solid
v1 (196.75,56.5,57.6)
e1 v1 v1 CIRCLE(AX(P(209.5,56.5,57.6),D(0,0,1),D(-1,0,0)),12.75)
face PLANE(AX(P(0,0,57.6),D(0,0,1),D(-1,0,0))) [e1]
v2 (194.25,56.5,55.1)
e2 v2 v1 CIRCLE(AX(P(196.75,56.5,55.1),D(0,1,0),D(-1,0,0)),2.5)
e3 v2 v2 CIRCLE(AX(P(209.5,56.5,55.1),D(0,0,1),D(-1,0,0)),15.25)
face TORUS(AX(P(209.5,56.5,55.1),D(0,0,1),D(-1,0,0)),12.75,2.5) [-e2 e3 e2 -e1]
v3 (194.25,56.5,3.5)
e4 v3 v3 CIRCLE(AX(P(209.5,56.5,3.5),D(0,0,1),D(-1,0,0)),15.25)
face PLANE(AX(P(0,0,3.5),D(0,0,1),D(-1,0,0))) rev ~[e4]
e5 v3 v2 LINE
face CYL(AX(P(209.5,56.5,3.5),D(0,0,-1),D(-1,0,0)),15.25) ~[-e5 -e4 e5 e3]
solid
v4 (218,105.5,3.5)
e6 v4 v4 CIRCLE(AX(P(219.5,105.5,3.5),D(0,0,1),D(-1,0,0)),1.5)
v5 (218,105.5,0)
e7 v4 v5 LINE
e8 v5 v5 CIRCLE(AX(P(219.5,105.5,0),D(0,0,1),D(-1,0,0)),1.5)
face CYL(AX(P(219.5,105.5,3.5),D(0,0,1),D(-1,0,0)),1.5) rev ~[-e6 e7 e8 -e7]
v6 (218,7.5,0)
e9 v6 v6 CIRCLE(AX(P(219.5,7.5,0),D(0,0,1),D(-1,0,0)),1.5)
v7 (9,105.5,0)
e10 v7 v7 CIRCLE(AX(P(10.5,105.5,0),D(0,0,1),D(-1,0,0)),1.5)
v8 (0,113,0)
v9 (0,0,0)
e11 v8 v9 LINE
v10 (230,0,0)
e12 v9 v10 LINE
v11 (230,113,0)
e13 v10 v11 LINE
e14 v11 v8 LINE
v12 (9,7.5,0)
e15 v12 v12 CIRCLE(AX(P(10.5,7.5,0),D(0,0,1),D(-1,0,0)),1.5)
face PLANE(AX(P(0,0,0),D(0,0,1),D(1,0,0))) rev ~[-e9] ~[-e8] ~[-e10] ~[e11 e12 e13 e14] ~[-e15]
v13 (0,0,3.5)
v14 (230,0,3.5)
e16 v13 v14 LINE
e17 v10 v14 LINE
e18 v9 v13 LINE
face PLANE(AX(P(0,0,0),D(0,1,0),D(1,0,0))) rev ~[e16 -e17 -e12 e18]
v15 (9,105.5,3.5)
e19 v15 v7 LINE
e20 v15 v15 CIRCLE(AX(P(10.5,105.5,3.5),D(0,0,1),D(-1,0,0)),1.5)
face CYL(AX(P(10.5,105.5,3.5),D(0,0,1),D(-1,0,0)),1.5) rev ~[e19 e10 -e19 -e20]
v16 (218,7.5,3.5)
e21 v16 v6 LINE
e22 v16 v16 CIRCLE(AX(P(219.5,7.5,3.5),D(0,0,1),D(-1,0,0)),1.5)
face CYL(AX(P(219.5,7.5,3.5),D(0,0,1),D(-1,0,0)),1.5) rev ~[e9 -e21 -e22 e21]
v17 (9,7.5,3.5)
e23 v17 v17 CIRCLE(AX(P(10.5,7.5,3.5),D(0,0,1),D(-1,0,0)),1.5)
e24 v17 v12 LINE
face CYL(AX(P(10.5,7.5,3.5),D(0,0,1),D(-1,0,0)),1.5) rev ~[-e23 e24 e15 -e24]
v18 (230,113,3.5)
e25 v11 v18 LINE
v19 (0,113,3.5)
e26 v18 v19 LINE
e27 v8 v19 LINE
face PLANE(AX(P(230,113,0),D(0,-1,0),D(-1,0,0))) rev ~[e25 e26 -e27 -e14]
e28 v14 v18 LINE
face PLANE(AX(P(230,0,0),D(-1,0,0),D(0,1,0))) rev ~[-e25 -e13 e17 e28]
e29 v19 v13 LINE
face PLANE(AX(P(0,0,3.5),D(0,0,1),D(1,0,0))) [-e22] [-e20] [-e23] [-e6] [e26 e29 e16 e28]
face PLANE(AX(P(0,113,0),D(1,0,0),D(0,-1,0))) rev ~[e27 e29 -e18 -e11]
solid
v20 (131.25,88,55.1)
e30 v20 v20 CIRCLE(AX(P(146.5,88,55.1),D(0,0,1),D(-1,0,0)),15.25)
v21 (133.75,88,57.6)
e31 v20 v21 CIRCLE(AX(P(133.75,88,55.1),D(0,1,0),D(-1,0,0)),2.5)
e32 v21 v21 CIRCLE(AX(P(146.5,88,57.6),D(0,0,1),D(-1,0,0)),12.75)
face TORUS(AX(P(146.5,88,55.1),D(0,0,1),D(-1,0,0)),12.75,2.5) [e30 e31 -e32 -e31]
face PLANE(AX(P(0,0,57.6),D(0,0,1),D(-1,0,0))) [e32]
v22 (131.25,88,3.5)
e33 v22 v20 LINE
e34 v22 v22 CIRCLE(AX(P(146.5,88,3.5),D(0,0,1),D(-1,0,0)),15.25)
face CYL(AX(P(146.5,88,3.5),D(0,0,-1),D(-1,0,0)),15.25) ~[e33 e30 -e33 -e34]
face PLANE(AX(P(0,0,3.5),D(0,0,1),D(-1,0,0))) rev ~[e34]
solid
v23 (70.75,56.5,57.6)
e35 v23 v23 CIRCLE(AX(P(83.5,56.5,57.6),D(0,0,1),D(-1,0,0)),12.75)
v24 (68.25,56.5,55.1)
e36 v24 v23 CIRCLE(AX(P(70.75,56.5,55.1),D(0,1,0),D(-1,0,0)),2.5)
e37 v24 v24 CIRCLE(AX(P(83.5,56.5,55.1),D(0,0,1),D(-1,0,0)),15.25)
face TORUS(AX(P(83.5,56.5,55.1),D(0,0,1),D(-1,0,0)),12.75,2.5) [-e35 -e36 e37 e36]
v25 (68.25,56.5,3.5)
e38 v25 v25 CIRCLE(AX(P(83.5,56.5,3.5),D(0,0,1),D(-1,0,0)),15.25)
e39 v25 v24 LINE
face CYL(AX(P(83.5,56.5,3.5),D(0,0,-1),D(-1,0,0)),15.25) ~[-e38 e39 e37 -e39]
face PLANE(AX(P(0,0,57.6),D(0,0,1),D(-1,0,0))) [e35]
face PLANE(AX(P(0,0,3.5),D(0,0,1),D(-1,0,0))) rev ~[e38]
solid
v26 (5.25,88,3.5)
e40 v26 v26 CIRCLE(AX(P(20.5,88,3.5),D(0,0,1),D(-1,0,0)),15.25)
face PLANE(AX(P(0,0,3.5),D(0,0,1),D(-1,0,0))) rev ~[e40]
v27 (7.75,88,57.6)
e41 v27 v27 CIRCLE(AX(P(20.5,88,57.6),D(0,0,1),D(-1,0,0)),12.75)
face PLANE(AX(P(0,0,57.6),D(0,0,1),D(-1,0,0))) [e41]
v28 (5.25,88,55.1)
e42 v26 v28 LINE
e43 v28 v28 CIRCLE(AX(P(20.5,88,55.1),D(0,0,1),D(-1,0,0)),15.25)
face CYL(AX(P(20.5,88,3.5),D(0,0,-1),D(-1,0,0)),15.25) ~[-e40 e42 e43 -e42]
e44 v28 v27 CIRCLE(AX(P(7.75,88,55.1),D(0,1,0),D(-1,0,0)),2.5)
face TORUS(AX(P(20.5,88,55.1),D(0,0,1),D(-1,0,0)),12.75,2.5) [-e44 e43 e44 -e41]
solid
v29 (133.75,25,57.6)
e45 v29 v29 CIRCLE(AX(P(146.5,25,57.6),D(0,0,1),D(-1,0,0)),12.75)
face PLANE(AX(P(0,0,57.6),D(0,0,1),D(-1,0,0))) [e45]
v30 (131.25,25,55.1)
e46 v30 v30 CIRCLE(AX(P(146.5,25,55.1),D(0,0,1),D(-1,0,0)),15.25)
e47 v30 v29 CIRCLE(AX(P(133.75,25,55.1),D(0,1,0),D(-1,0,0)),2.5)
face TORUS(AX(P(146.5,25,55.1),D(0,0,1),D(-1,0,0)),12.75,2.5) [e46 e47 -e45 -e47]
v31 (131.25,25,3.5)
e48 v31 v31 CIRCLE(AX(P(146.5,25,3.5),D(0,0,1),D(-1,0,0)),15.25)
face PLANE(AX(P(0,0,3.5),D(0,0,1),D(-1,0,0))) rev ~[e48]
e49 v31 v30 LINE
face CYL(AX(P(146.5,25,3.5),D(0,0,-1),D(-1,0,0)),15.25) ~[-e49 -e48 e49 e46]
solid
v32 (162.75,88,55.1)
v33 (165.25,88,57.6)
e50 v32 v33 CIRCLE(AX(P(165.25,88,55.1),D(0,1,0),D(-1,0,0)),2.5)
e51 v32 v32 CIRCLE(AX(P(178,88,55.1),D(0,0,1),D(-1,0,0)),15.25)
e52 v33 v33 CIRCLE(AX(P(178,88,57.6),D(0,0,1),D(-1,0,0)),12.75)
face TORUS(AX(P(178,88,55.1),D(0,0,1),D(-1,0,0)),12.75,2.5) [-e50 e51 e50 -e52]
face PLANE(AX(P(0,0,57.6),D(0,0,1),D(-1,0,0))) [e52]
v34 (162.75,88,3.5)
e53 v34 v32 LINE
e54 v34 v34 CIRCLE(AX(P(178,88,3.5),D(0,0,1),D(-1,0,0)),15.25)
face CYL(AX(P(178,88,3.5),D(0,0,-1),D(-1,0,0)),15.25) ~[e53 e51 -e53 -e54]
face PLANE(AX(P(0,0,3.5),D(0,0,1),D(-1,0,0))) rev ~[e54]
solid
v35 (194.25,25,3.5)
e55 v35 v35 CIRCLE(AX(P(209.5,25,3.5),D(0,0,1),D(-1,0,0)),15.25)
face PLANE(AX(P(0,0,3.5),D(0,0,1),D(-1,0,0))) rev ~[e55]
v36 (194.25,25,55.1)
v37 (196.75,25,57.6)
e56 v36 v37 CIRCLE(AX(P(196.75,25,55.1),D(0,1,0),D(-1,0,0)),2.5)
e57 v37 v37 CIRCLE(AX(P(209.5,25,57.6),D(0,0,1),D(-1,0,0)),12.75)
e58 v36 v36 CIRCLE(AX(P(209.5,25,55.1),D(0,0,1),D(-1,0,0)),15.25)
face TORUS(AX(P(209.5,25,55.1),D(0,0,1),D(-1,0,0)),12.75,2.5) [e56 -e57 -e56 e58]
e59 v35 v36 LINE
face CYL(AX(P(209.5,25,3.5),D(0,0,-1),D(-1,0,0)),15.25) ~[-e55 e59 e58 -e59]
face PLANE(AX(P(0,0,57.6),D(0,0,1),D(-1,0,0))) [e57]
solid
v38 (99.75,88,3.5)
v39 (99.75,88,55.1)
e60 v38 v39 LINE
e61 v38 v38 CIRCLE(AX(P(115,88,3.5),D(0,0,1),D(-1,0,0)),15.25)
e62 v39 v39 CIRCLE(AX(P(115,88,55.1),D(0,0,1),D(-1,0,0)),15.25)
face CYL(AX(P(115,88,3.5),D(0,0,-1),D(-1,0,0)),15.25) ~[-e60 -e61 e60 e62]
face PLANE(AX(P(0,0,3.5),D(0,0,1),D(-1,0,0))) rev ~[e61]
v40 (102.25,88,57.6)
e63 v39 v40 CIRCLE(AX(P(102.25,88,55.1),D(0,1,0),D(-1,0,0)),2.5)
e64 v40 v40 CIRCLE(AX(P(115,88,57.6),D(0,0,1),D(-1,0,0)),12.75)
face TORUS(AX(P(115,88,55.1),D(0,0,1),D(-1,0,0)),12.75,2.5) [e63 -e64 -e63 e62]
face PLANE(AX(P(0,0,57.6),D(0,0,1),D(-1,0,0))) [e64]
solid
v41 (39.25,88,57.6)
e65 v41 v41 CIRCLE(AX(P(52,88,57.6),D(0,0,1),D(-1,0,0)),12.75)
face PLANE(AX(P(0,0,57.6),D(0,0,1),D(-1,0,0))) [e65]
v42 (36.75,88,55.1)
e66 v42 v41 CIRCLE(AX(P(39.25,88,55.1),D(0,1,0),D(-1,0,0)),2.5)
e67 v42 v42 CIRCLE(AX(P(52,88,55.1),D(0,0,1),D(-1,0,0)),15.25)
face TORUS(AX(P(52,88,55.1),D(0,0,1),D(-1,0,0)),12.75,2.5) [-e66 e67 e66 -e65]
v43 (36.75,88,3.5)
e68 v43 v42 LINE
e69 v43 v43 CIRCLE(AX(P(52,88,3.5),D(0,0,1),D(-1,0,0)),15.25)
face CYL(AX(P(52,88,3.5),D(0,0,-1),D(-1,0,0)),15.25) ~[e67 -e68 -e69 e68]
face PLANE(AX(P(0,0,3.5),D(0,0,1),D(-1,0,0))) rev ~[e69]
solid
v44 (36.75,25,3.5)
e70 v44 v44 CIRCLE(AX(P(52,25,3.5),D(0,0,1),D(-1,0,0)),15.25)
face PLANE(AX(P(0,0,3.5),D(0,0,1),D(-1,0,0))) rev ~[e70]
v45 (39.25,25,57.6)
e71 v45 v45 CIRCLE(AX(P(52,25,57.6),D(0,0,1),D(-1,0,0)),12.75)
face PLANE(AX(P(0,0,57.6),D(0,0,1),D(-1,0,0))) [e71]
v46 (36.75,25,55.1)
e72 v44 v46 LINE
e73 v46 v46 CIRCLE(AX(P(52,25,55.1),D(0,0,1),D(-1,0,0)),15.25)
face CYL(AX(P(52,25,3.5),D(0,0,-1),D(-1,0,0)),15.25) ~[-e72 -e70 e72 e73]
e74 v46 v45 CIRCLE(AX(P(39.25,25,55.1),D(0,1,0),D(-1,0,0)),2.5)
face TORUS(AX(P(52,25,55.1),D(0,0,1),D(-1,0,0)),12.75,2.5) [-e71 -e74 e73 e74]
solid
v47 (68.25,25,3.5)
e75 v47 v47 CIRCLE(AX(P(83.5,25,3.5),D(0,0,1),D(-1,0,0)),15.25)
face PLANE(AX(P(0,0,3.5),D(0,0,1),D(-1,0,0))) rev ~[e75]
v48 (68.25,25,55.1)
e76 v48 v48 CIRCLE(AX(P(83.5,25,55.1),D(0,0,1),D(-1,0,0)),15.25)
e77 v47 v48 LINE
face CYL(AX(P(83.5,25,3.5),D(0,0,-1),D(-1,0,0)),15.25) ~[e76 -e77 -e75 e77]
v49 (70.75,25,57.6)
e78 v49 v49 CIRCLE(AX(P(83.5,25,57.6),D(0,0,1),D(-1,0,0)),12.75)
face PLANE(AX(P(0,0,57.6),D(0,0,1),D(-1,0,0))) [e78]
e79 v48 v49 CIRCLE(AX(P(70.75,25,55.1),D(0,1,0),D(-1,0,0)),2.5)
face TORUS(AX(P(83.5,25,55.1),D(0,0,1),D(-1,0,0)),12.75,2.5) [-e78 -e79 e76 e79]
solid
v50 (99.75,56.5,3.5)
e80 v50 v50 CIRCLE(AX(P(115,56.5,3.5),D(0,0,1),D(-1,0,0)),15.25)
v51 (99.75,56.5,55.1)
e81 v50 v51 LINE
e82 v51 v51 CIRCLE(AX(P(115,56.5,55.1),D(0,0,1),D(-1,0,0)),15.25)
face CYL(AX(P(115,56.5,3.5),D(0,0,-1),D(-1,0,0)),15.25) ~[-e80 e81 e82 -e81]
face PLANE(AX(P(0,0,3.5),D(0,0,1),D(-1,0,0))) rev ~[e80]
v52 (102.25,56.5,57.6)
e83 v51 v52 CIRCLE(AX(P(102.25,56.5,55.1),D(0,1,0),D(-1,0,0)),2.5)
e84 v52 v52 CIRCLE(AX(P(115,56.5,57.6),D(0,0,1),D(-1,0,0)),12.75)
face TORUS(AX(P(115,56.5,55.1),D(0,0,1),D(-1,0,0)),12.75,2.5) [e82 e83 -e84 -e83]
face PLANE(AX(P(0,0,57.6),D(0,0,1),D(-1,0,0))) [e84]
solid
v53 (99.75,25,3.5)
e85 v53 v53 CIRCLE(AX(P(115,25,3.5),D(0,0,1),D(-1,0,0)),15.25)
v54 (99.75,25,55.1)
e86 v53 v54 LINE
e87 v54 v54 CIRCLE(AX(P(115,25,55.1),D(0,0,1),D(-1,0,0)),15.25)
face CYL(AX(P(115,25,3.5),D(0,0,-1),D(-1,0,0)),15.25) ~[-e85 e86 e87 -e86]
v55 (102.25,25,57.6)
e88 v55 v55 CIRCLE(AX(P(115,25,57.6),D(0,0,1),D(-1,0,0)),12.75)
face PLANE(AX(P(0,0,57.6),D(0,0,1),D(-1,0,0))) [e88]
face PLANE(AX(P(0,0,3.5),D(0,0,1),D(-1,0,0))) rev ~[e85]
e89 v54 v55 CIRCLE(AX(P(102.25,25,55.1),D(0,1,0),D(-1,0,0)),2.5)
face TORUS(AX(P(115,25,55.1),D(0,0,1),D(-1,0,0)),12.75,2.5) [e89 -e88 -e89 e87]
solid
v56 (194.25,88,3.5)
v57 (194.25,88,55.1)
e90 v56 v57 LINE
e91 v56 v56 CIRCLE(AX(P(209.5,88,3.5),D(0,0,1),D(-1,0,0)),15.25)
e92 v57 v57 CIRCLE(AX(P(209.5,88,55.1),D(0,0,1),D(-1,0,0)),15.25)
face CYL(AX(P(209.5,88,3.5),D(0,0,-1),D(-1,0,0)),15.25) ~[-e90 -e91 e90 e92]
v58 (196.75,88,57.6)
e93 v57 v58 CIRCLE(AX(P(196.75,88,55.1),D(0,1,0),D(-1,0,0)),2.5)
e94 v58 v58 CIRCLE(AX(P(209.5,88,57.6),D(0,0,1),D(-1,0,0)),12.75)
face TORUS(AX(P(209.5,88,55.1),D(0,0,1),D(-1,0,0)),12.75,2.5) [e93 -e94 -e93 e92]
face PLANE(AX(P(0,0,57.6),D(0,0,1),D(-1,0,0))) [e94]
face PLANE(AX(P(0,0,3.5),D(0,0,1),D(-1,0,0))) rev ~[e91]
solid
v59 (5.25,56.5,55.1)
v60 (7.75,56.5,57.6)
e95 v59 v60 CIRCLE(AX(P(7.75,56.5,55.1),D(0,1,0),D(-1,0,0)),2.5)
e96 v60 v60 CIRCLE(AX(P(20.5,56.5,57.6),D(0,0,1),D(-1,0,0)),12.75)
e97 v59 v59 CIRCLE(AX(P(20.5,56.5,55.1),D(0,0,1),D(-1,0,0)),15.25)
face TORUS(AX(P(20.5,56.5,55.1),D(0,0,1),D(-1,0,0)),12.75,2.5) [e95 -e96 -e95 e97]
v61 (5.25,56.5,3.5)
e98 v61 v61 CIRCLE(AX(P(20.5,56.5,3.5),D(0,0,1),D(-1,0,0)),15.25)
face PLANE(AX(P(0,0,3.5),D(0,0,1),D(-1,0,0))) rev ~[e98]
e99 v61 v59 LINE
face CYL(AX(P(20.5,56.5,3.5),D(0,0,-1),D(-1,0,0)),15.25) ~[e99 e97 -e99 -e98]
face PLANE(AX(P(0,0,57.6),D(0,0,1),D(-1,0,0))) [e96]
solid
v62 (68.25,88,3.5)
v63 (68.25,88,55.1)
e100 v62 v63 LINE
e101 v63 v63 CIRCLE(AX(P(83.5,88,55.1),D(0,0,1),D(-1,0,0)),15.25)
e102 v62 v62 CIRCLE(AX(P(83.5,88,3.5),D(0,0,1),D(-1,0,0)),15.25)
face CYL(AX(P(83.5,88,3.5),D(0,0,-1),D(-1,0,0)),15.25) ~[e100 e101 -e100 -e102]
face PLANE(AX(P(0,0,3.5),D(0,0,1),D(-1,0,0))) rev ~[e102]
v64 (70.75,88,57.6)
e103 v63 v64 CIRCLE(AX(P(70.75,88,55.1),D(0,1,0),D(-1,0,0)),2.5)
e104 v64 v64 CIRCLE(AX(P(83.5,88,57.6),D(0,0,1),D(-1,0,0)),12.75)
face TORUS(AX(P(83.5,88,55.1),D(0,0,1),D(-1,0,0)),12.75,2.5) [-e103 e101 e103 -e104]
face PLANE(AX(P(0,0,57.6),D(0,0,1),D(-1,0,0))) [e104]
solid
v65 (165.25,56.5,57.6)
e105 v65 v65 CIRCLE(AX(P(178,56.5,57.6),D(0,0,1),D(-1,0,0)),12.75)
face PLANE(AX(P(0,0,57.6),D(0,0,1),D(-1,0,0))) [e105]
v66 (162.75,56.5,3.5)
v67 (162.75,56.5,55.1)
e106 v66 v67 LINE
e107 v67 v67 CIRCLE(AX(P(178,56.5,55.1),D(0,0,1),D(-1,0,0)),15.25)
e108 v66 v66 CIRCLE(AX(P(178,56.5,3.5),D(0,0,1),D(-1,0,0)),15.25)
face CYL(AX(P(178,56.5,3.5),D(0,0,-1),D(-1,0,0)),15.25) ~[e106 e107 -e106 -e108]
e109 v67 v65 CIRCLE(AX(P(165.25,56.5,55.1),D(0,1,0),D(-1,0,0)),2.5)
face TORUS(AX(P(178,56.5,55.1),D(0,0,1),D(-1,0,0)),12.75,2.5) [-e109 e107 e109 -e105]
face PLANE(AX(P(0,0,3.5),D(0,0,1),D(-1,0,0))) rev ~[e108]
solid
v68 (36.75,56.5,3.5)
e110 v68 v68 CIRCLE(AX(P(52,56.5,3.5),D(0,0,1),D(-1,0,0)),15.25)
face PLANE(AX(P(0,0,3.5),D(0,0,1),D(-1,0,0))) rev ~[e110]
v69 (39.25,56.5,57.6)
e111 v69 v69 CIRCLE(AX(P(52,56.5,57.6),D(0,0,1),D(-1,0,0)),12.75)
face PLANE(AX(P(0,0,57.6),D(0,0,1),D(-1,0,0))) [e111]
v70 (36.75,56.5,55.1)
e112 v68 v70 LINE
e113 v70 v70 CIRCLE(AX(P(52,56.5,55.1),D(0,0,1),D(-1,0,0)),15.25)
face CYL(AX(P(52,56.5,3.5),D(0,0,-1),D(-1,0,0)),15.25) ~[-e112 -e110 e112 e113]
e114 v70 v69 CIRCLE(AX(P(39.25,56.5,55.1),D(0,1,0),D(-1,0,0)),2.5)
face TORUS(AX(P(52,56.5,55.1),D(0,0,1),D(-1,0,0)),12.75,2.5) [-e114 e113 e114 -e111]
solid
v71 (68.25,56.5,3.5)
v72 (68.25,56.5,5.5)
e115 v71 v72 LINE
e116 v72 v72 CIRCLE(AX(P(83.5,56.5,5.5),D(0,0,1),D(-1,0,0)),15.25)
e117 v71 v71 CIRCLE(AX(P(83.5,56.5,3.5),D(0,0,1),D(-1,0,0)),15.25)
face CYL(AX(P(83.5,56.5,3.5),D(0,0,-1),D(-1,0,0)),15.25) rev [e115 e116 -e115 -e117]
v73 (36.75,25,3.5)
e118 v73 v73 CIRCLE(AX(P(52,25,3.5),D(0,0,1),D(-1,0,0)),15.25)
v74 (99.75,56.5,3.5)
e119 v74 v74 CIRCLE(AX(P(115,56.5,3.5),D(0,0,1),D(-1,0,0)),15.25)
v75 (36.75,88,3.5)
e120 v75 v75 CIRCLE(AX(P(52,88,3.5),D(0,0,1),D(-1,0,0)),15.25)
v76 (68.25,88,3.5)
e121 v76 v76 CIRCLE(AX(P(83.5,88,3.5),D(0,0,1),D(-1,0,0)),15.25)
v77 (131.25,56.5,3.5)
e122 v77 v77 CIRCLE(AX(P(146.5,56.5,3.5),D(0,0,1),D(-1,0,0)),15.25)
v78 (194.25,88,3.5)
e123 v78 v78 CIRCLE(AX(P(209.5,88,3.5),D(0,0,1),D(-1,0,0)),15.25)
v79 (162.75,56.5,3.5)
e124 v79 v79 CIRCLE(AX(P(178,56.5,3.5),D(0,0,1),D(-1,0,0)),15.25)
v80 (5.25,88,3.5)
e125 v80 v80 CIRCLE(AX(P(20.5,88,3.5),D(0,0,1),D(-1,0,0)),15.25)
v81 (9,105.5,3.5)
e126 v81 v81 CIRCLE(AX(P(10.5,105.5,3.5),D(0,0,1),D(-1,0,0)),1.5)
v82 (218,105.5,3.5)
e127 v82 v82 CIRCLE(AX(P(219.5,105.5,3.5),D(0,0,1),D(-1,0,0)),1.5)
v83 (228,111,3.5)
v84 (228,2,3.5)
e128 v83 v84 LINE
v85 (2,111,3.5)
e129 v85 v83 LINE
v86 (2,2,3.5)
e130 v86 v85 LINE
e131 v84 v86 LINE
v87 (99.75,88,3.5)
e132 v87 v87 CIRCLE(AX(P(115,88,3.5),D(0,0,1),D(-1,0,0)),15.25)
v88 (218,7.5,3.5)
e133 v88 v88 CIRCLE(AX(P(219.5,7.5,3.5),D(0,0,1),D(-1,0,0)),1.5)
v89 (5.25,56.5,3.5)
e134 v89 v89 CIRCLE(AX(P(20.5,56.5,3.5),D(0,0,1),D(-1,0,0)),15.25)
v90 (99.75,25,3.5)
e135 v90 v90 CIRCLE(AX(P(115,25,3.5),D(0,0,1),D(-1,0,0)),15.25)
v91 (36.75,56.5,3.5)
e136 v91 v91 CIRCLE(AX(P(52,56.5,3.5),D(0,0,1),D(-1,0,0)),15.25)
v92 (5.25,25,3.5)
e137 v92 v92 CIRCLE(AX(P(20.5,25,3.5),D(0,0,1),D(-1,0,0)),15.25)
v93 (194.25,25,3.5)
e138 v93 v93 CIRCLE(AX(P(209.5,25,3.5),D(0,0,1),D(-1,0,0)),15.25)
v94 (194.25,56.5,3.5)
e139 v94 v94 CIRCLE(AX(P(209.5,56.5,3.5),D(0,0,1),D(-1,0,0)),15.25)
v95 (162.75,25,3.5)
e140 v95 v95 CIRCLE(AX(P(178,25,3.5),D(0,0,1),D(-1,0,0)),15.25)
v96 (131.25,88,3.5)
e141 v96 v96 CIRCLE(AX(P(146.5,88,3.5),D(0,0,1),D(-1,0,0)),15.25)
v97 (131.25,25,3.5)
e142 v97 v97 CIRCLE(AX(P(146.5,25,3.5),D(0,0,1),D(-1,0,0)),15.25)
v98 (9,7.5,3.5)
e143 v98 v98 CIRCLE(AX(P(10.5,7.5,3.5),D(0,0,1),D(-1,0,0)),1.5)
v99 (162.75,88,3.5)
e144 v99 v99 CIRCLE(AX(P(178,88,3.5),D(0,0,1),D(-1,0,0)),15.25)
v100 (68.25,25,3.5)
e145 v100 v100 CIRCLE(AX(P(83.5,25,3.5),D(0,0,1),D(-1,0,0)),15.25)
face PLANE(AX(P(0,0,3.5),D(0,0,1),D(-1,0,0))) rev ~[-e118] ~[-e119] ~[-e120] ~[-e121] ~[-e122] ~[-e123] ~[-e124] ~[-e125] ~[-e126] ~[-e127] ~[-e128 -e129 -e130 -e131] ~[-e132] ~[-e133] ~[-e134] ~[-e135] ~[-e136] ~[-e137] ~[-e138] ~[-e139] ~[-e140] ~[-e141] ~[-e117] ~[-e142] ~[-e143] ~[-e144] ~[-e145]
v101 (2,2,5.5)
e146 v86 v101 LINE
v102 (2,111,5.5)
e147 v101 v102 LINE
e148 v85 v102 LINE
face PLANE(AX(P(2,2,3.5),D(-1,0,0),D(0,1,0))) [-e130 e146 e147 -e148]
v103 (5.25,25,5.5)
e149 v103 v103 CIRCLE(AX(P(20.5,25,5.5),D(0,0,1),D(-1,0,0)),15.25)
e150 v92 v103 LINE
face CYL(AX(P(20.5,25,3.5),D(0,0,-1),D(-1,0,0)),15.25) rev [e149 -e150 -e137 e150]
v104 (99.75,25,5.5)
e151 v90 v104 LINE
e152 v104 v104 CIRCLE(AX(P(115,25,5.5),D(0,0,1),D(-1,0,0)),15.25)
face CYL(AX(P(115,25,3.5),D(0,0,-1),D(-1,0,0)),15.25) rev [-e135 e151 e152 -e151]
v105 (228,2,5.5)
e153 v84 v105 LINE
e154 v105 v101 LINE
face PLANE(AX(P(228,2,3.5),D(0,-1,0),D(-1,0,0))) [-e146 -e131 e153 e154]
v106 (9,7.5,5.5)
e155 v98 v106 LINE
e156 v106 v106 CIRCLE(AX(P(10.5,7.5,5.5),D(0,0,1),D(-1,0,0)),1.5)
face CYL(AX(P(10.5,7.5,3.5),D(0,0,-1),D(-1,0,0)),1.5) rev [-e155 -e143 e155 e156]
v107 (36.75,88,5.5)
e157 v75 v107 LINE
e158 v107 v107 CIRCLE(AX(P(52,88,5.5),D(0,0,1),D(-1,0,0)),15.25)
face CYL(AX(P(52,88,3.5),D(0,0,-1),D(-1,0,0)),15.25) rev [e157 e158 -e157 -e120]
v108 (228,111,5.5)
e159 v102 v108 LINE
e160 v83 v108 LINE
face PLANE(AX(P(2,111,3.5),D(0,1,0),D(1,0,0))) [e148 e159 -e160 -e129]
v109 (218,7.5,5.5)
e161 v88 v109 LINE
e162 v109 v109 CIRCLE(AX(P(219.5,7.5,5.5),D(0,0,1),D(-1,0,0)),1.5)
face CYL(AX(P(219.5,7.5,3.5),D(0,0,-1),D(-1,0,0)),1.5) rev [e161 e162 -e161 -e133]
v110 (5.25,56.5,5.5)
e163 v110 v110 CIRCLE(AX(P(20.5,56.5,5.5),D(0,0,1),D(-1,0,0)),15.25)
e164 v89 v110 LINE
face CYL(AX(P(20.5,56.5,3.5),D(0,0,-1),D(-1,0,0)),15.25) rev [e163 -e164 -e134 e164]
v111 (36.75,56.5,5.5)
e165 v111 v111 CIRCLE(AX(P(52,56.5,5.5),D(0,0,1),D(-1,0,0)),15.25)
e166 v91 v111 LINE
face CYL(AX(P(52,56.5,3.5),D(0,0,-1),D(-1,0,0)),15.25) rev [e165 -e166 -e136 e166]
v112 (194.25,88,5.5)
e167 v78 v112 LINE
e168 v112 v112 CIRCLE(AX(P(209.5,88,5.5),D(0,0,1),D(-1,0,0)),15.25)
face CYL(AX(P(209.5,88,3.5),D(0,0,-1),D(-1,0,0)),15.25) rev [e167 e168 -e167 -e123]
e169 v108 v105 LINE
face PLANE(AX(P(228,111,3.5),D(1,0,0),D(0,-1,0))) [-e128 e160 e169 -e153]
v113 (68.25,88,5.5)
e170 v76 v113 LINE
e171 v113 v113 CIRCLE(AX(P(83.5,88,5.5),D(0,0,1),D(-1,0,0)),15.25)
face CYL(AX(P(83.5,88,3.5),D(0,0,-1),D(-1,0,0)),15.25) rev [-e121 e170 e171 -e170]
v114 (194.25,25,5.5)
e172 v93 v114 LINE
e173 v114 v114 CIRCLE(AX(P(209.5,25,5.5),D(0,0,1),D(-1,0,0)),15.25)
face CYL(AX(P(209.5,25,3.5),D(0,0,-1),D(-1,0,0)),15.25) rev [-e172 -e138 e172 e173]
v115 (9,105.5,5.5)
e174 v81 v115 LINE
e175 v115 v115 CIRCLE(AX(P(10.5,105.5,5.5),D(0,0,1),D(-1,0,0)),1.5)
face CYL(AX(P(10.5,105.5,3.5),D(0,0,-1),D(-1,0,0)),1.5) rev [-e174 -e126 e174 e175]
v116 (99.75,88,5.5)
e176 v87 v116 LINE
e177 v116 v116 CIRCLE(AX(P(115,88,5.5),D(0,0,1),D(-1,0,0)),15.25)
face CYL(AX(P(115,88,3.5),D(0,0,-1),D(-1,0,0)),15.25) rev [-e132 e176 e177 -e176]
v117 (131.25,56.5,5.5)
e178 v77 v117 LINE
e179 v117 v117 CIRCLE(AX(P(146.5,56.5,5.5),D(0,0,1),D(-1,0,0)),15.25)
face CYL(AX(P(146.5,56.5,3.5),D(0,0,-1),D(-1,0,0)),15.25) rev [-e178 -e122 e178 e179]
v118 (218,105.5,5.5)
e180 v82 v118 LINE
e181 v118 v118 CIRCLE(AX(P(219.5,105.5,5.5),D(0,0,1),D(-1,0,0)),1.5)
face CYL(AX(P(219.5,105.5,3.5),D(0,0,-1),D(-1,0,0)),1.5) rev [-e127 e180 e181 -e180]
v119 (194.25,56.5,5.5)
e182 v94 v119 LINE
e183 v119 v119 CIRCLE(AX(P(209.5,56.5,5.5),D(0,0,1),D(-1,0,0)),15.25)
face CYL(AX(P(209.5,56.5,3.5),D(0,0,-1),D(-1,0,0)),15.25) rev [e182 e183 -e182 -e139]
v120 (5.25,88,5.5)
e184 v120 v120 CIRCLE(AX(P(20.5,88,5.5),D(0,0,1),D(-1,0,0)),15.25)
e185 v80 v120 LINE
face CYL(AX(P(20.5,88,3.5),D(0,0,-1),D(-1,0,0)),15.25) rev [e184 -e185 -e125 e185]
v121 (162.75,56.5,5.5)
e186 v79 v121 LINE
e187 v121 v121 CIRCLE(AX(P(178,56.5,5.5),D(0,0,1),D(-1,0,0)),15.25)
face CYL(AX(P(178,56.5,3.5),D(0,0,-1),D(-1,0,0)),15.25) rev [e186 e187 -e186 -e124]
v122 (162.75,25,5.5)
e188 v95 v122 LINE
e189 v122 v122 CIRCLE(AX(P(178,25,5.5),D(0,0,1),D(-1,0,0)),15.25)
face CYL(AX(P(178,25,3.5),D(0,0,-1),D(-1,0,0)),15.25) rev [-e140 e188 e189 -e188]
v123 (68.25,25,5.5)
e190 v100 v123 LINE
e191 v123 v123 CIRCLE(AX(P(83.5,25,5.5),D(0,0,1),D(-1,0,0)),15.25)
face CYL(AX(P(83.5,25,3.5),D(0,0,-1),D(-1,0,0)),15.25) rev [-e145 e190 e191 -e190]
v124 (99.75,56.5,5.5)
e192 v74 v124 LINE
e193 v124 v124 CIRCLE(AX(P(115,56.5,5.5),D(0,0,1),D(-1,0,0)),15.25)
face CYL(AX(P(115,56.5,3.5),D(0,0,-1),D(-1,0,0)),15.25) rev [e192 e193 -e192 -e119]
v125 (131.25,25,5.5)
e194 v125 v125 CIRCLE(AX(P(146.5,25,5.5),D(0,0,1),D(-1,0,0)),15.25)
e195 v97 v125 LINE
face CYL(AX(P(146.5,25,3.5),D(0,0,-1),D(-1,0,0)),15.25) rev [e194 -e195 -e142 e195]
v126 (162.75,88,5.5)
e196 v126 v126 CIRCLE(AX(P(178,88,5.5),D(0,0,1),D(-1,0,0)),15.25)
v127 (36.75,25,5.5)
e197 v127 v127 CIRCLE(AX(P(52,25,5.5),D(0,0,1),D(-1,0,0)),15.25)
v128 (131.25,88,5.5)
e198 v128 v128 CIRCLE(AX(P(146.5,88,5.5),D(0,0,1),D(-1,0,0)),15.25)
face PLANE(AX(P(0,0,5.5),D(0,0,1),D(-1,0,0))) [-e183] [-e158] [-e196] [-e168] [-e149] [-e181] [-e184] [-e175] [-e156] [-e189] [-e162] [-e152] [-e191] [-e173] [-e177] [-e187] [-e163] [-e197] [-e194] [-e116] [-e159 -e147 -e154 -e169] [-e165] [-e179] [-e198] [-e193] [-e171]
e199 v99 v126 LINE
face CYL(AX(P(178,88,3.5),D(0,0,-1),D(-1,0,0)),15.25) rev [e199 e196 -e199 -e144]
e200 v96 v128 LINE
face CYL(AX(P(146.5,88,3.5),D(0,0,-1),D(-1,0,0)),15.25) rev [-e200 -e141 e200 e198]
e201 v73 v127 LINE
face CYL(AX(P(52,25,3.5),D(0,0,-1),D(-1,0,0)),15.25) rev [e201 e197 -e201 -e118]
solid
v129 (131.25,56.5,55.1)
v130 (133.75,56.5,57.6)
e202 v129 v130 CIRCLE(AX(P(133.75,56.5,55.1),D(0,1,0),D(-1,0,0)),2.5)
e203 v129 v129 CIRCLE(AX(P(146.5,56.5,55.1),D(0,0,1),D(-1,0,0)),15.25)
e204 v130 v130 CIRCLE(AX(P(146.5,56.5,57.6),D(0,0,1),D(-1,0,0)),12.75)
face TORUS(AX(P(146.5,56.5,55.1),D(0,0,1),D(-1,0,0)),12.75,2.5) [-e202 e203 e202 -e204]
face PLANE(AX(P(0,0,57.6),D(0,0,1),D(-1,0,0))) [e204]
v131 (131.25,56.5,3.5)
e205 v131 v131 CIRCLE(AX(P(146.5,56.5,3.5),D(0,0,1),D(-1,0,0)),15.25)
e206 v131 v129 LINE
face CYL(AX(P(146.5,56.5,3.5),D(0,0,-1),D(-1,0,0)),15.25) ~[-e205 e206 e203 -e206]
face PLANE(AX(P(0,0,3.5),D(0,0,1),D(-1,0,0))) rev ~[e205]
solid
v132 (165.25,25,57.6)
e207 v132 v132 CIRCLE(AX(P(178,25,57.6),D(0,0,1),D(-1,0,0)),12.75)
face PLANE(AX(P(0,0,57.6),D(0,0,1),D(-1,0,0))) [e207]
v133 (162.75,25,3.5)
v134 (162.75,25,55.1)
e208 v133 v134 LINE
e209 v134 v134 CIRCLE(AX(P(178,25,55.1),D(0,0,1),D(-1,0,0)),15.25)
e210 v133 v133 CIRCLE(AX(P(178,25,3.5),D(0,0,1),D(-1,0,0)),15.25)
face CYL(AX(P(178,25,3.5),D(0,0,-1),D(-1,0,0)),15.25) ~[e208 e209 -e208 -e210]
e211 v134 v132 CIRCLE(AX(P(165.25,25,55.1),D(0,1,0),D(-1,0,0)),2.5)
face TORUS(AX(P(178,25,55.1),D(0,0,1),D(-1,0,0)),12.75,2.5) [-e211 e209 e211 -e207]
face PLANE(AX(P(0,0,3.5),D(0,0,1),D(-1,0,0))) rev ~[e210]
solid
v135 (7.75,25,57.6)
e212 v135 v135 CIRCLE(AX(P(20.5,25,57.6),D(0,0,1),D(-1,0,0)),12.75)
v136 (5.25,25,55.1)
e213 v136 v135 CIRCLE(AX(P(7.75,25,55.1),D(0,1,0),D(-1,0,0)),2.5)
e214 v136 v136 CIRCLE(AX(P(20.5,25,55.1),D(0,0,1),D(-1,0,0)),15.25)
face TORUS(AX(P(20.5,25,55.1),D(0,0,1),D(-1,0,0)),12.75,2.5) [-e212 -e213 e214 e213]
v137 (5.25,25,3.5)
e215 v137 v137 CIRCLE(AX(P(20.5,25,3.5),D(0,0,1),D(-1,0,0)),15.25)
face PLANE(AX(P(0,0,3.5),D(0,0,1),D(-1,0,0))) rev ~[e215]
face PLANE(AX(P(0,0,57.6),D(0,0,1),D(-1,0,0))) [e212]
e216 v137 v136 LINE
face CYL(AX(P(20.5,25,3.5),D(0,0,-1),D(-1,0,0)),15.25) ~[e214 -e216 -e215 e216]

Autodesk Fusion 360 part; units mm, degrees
sketch "Esboço1" plane through (0, 0, 0) normal (0, 0, 1) x (1, 0, 0)
  line L0 (0, 0) -> (230, 0)
  line L1 (230, 0) -> (230, 113)
  line L2 (230, 113) -> (0, 113)
  line L3 (0, 113) -> (0, 0)
  dimension "d1" = 230
  dimension "d2" = 113
extrude "Extrusão1" add sketch "Esboço1" along normal blind 3.5 makes body 1
sketch "Esboço2" plane through (0, 0, 3.5) normal (0, 0, 1) x (-1, 0, 0)
  line L0 (0, -113) -> (0, 0)
  line L1 (0, 0) -> (-230, 0)
  line L2 (-230, 0) -> (-230, -113)
  line L3 (-230, -113) -> (0, -113)
  line L4 (-2, -111) -> (-228, -111)
  line L5 (-228, -111) -> (-228, -2)
  line L6 (-228, -2) -> (-2, -2)
  line L7 (-2, -2) -> (-2, -111)
  line L8 (0, -113) -> (0, 0)
  line L9 (-230, -113) -> (0, -113)
  line L10 (-230, 0) -> (-230, -113)
  line L11 (0, 0) -> (-230, 0)
  circle A0 centre (-10.5, -105.5) radius 1.5
  circle A1 centre (-219.5, -105.5) radius 1.5
  circle A2 centre (-10.5, -7.5) radius 1.5
  circle A3 centre (-219.5, -7.5) radius 1.5
  circle A4 centre (-209.5, -88) radius 15.25
  circle A5 centre (-209.5, -56.5) radius 15.25
  circle A6 centre (-209.5, -25) radius 15.25
  line L12 (-209.5, -88) -> (-209.5, -56.5) construction
  line L13 (-209.5, -56.5) -> (-209.5, -25) construction
  line L14 (-209.5, -88) -> (-2, -88) construction
  line L15 (-209.5, -25) -> (-2, -25) construction
  line L16 (-209.5, -56.5) -> (-2, -56.5) construction
  circle A7 centre (-20.5, -88) radius 15.25
  circle A8 centre (-20.5, -56.5) radius 15.25
  circle A9 centre (-20.5, -25) radius 15.25
  circle A10 centre (-52, -25) radius 15.25
  circle A11 centre (-83.5, -25) radius 15.25
  circle A12 centre (-146.5, -25) radius 15.25
  circle A13 centre (-178, -25) radius 15.25
  circle A14 centre (-178, -56.5) radius 15.25
  circle A15 centre (-115, -56.5) radius 15.25
  circle A16 centre (-146.5, -56.5) radius 15.25
  circle A17 centre (-83.5, -56.5) radius 15.25
  circle A18 centre (-52, -56.5) radius 15.25
  circle A19 centre (-52, -88) radius 15.25
  circle A20 centre (-83.5, -88) radius 15.25
  circle A21 centre (-115, -88) radius 15.25
  circle A22 centre (-146.5, -88) radius 15.25
  circle A23 centre (-178, -88) radius 15.25
  circle A24 centre (-115, -25) radius 15.25
  line L17 (-178, -88) -> (-178, -2) construction
  line L18 (-146.5, -88) -> (-146.5, -2) construction
  line L19 (-115, -88) -> (-115, -2) construction
  line L20 (-83.5, -88) -> (-83.5, -2) construction
  line L21 (-52, -88) -> (-52, -2) construction
  line L22 (-20.5, -88) -> (-20.5, -2) construction
  dimension "d5" = 2
  dimension "d6" = 2
  dimension "d7" = 2
  dimension "d8" = 2
  dimension "d9" = 3
  dimension "d10" = 3
  dimension "d11" = 3
  dimension "d12" = 3
  dimension "d13" = 10.5
  dimension "d14" = 7.5
  dimension "d15" = 10.5
  dimension "d16" = 7.5
  dimension "d17" = 7.5
  dimension "d18" = 10.5
  dimension "d19" = 10.5
  dimension "d20" = 7.5
  dimension "d21" = 30.5
  dimension "d22" = 18.5
  dimension "d23" = 23
  dimension "d24" = 23
  dimension "d25" = 31.5
  dimension "d26" = 31.5
  dimension "d27" = 31.5
  dimension "d28" = 31.5
  dimension "d29" = 31.5
  dimension "d30" = 31.5
  dimension "d31" = 31.5
  dimension "d32" = 31.5
extrude "Extrusão2" add sketch "Esboço2" along normal blind 2 separate body contours L4 L5 L6 L7 makes body 2
extrude "Extrusão3" add sketch "Esboço2" along normal blind 54.1 separate body contours A4 | A5 | A6 | A7 | A8 | A9 | A10 | A11 | A12 | A13 | A14 | A15 | A16 | A17 | A18 | A19 | A20 | A21 | A22 | A23 | A24 makes body 3 at (36.8258, 58.0184, 21.5333) makes body 4 at (99.8258, 58.0184, 21.5333) makes body 5 at (131.3258, 26.5184, 21.5333) makes body 6 at (194.3258, 89.5184, 21.5333) makes body 7 at (68.3258, 89.5184, 21.5333) makes body 8 at (36.8258, 89.5184, 21.5333) makes body 9 at (162.8258, 89.5184, 21.5333) makes body 10 at (131.3258, 58.0184, 21.5333) makes body 11 at (99.8258, 26.5184, 21.5333) makes body 12 at (36.8258, 26.5184, 21.5333) makes body 13 at (5.3258, 58.0184, 21.5333) makes body 14 at (68.3258, 58.0184, 21.5333) makes body 15 at (162.8258, 26.5184, 21.5333) makes body 16 at (194.3258, 58.0184, 21.5333) makes body 17 at (99.8258, 89.5184, 21.5333) makes body 18 at (5.3258, 89.5184, 21.5333) makes body 19 at (131.3258, 89.5184, 21.5333) makes body 20 at (162.8258, 58.0184, 21.5333) makes body 21 at (194.3258, 26.5184, 21.5333) makes body 22 at (68.3258, 26.5184, 21.5333) makes body 23 at (5.3258, 26.5184, 21.5333)
extrude "Extrusão4" cut sketch "Esboço2" against normal blind 25 contours A0 | A1 | A2 | A3 bodies 1
fillet "Arredondamento1" radius 2.5 21 edges at (66.218, 62.0146, 57.6) (129.218, 62.0146, 57.6) (160.718, 30.5146, 57.6) (223.718, 93.5146, 57.6) (97.718, 93.5146, 57.6) (66.218, 93.5146, 57.6) (192.218, 93.5146, 57.6) (160.718, 62.0146, 57.6) (129.218, 30.5146, 57.6) (66.218, 30.5146, 57.6) (34.718, 62.0146, 57.6) (97.718, 62.0146, 57.6) (192.218, 30.5146, 57.6) (223.718, 62.0146, 57.6) (129.218, 93.5146, 57.6) (34.718, 93.5146, 57.6) (160.718, 93.5146, 57.6) (192.218, 62.0146, 57.6) (223.718, 30.5146, 57.6) (97.718, 30.5146, 57.6) (34.718, 30.5146, 57.6) on bodies 3 4 5 6 7 8 9 10 11 12 13 14 15 16 17 18 19 20 21 22 23
equation "d10 = d9"
equation "d11 = d9"
equation "d12 = d9"
equation "d15 = d13"
equation "d16 = d14"
equation "d17 = d14"
equation "d18 = d13"
equation "d19 = d13"
equation "d20 = d14"
equation "d24 = d23"
equation "d28 = d27"
equation "d29 = d27"
equation "d30 = d27"
equation "d31 = d27"
equation "d32 = d27"
equation "d35 = 52.1 mm + 2 mm"
